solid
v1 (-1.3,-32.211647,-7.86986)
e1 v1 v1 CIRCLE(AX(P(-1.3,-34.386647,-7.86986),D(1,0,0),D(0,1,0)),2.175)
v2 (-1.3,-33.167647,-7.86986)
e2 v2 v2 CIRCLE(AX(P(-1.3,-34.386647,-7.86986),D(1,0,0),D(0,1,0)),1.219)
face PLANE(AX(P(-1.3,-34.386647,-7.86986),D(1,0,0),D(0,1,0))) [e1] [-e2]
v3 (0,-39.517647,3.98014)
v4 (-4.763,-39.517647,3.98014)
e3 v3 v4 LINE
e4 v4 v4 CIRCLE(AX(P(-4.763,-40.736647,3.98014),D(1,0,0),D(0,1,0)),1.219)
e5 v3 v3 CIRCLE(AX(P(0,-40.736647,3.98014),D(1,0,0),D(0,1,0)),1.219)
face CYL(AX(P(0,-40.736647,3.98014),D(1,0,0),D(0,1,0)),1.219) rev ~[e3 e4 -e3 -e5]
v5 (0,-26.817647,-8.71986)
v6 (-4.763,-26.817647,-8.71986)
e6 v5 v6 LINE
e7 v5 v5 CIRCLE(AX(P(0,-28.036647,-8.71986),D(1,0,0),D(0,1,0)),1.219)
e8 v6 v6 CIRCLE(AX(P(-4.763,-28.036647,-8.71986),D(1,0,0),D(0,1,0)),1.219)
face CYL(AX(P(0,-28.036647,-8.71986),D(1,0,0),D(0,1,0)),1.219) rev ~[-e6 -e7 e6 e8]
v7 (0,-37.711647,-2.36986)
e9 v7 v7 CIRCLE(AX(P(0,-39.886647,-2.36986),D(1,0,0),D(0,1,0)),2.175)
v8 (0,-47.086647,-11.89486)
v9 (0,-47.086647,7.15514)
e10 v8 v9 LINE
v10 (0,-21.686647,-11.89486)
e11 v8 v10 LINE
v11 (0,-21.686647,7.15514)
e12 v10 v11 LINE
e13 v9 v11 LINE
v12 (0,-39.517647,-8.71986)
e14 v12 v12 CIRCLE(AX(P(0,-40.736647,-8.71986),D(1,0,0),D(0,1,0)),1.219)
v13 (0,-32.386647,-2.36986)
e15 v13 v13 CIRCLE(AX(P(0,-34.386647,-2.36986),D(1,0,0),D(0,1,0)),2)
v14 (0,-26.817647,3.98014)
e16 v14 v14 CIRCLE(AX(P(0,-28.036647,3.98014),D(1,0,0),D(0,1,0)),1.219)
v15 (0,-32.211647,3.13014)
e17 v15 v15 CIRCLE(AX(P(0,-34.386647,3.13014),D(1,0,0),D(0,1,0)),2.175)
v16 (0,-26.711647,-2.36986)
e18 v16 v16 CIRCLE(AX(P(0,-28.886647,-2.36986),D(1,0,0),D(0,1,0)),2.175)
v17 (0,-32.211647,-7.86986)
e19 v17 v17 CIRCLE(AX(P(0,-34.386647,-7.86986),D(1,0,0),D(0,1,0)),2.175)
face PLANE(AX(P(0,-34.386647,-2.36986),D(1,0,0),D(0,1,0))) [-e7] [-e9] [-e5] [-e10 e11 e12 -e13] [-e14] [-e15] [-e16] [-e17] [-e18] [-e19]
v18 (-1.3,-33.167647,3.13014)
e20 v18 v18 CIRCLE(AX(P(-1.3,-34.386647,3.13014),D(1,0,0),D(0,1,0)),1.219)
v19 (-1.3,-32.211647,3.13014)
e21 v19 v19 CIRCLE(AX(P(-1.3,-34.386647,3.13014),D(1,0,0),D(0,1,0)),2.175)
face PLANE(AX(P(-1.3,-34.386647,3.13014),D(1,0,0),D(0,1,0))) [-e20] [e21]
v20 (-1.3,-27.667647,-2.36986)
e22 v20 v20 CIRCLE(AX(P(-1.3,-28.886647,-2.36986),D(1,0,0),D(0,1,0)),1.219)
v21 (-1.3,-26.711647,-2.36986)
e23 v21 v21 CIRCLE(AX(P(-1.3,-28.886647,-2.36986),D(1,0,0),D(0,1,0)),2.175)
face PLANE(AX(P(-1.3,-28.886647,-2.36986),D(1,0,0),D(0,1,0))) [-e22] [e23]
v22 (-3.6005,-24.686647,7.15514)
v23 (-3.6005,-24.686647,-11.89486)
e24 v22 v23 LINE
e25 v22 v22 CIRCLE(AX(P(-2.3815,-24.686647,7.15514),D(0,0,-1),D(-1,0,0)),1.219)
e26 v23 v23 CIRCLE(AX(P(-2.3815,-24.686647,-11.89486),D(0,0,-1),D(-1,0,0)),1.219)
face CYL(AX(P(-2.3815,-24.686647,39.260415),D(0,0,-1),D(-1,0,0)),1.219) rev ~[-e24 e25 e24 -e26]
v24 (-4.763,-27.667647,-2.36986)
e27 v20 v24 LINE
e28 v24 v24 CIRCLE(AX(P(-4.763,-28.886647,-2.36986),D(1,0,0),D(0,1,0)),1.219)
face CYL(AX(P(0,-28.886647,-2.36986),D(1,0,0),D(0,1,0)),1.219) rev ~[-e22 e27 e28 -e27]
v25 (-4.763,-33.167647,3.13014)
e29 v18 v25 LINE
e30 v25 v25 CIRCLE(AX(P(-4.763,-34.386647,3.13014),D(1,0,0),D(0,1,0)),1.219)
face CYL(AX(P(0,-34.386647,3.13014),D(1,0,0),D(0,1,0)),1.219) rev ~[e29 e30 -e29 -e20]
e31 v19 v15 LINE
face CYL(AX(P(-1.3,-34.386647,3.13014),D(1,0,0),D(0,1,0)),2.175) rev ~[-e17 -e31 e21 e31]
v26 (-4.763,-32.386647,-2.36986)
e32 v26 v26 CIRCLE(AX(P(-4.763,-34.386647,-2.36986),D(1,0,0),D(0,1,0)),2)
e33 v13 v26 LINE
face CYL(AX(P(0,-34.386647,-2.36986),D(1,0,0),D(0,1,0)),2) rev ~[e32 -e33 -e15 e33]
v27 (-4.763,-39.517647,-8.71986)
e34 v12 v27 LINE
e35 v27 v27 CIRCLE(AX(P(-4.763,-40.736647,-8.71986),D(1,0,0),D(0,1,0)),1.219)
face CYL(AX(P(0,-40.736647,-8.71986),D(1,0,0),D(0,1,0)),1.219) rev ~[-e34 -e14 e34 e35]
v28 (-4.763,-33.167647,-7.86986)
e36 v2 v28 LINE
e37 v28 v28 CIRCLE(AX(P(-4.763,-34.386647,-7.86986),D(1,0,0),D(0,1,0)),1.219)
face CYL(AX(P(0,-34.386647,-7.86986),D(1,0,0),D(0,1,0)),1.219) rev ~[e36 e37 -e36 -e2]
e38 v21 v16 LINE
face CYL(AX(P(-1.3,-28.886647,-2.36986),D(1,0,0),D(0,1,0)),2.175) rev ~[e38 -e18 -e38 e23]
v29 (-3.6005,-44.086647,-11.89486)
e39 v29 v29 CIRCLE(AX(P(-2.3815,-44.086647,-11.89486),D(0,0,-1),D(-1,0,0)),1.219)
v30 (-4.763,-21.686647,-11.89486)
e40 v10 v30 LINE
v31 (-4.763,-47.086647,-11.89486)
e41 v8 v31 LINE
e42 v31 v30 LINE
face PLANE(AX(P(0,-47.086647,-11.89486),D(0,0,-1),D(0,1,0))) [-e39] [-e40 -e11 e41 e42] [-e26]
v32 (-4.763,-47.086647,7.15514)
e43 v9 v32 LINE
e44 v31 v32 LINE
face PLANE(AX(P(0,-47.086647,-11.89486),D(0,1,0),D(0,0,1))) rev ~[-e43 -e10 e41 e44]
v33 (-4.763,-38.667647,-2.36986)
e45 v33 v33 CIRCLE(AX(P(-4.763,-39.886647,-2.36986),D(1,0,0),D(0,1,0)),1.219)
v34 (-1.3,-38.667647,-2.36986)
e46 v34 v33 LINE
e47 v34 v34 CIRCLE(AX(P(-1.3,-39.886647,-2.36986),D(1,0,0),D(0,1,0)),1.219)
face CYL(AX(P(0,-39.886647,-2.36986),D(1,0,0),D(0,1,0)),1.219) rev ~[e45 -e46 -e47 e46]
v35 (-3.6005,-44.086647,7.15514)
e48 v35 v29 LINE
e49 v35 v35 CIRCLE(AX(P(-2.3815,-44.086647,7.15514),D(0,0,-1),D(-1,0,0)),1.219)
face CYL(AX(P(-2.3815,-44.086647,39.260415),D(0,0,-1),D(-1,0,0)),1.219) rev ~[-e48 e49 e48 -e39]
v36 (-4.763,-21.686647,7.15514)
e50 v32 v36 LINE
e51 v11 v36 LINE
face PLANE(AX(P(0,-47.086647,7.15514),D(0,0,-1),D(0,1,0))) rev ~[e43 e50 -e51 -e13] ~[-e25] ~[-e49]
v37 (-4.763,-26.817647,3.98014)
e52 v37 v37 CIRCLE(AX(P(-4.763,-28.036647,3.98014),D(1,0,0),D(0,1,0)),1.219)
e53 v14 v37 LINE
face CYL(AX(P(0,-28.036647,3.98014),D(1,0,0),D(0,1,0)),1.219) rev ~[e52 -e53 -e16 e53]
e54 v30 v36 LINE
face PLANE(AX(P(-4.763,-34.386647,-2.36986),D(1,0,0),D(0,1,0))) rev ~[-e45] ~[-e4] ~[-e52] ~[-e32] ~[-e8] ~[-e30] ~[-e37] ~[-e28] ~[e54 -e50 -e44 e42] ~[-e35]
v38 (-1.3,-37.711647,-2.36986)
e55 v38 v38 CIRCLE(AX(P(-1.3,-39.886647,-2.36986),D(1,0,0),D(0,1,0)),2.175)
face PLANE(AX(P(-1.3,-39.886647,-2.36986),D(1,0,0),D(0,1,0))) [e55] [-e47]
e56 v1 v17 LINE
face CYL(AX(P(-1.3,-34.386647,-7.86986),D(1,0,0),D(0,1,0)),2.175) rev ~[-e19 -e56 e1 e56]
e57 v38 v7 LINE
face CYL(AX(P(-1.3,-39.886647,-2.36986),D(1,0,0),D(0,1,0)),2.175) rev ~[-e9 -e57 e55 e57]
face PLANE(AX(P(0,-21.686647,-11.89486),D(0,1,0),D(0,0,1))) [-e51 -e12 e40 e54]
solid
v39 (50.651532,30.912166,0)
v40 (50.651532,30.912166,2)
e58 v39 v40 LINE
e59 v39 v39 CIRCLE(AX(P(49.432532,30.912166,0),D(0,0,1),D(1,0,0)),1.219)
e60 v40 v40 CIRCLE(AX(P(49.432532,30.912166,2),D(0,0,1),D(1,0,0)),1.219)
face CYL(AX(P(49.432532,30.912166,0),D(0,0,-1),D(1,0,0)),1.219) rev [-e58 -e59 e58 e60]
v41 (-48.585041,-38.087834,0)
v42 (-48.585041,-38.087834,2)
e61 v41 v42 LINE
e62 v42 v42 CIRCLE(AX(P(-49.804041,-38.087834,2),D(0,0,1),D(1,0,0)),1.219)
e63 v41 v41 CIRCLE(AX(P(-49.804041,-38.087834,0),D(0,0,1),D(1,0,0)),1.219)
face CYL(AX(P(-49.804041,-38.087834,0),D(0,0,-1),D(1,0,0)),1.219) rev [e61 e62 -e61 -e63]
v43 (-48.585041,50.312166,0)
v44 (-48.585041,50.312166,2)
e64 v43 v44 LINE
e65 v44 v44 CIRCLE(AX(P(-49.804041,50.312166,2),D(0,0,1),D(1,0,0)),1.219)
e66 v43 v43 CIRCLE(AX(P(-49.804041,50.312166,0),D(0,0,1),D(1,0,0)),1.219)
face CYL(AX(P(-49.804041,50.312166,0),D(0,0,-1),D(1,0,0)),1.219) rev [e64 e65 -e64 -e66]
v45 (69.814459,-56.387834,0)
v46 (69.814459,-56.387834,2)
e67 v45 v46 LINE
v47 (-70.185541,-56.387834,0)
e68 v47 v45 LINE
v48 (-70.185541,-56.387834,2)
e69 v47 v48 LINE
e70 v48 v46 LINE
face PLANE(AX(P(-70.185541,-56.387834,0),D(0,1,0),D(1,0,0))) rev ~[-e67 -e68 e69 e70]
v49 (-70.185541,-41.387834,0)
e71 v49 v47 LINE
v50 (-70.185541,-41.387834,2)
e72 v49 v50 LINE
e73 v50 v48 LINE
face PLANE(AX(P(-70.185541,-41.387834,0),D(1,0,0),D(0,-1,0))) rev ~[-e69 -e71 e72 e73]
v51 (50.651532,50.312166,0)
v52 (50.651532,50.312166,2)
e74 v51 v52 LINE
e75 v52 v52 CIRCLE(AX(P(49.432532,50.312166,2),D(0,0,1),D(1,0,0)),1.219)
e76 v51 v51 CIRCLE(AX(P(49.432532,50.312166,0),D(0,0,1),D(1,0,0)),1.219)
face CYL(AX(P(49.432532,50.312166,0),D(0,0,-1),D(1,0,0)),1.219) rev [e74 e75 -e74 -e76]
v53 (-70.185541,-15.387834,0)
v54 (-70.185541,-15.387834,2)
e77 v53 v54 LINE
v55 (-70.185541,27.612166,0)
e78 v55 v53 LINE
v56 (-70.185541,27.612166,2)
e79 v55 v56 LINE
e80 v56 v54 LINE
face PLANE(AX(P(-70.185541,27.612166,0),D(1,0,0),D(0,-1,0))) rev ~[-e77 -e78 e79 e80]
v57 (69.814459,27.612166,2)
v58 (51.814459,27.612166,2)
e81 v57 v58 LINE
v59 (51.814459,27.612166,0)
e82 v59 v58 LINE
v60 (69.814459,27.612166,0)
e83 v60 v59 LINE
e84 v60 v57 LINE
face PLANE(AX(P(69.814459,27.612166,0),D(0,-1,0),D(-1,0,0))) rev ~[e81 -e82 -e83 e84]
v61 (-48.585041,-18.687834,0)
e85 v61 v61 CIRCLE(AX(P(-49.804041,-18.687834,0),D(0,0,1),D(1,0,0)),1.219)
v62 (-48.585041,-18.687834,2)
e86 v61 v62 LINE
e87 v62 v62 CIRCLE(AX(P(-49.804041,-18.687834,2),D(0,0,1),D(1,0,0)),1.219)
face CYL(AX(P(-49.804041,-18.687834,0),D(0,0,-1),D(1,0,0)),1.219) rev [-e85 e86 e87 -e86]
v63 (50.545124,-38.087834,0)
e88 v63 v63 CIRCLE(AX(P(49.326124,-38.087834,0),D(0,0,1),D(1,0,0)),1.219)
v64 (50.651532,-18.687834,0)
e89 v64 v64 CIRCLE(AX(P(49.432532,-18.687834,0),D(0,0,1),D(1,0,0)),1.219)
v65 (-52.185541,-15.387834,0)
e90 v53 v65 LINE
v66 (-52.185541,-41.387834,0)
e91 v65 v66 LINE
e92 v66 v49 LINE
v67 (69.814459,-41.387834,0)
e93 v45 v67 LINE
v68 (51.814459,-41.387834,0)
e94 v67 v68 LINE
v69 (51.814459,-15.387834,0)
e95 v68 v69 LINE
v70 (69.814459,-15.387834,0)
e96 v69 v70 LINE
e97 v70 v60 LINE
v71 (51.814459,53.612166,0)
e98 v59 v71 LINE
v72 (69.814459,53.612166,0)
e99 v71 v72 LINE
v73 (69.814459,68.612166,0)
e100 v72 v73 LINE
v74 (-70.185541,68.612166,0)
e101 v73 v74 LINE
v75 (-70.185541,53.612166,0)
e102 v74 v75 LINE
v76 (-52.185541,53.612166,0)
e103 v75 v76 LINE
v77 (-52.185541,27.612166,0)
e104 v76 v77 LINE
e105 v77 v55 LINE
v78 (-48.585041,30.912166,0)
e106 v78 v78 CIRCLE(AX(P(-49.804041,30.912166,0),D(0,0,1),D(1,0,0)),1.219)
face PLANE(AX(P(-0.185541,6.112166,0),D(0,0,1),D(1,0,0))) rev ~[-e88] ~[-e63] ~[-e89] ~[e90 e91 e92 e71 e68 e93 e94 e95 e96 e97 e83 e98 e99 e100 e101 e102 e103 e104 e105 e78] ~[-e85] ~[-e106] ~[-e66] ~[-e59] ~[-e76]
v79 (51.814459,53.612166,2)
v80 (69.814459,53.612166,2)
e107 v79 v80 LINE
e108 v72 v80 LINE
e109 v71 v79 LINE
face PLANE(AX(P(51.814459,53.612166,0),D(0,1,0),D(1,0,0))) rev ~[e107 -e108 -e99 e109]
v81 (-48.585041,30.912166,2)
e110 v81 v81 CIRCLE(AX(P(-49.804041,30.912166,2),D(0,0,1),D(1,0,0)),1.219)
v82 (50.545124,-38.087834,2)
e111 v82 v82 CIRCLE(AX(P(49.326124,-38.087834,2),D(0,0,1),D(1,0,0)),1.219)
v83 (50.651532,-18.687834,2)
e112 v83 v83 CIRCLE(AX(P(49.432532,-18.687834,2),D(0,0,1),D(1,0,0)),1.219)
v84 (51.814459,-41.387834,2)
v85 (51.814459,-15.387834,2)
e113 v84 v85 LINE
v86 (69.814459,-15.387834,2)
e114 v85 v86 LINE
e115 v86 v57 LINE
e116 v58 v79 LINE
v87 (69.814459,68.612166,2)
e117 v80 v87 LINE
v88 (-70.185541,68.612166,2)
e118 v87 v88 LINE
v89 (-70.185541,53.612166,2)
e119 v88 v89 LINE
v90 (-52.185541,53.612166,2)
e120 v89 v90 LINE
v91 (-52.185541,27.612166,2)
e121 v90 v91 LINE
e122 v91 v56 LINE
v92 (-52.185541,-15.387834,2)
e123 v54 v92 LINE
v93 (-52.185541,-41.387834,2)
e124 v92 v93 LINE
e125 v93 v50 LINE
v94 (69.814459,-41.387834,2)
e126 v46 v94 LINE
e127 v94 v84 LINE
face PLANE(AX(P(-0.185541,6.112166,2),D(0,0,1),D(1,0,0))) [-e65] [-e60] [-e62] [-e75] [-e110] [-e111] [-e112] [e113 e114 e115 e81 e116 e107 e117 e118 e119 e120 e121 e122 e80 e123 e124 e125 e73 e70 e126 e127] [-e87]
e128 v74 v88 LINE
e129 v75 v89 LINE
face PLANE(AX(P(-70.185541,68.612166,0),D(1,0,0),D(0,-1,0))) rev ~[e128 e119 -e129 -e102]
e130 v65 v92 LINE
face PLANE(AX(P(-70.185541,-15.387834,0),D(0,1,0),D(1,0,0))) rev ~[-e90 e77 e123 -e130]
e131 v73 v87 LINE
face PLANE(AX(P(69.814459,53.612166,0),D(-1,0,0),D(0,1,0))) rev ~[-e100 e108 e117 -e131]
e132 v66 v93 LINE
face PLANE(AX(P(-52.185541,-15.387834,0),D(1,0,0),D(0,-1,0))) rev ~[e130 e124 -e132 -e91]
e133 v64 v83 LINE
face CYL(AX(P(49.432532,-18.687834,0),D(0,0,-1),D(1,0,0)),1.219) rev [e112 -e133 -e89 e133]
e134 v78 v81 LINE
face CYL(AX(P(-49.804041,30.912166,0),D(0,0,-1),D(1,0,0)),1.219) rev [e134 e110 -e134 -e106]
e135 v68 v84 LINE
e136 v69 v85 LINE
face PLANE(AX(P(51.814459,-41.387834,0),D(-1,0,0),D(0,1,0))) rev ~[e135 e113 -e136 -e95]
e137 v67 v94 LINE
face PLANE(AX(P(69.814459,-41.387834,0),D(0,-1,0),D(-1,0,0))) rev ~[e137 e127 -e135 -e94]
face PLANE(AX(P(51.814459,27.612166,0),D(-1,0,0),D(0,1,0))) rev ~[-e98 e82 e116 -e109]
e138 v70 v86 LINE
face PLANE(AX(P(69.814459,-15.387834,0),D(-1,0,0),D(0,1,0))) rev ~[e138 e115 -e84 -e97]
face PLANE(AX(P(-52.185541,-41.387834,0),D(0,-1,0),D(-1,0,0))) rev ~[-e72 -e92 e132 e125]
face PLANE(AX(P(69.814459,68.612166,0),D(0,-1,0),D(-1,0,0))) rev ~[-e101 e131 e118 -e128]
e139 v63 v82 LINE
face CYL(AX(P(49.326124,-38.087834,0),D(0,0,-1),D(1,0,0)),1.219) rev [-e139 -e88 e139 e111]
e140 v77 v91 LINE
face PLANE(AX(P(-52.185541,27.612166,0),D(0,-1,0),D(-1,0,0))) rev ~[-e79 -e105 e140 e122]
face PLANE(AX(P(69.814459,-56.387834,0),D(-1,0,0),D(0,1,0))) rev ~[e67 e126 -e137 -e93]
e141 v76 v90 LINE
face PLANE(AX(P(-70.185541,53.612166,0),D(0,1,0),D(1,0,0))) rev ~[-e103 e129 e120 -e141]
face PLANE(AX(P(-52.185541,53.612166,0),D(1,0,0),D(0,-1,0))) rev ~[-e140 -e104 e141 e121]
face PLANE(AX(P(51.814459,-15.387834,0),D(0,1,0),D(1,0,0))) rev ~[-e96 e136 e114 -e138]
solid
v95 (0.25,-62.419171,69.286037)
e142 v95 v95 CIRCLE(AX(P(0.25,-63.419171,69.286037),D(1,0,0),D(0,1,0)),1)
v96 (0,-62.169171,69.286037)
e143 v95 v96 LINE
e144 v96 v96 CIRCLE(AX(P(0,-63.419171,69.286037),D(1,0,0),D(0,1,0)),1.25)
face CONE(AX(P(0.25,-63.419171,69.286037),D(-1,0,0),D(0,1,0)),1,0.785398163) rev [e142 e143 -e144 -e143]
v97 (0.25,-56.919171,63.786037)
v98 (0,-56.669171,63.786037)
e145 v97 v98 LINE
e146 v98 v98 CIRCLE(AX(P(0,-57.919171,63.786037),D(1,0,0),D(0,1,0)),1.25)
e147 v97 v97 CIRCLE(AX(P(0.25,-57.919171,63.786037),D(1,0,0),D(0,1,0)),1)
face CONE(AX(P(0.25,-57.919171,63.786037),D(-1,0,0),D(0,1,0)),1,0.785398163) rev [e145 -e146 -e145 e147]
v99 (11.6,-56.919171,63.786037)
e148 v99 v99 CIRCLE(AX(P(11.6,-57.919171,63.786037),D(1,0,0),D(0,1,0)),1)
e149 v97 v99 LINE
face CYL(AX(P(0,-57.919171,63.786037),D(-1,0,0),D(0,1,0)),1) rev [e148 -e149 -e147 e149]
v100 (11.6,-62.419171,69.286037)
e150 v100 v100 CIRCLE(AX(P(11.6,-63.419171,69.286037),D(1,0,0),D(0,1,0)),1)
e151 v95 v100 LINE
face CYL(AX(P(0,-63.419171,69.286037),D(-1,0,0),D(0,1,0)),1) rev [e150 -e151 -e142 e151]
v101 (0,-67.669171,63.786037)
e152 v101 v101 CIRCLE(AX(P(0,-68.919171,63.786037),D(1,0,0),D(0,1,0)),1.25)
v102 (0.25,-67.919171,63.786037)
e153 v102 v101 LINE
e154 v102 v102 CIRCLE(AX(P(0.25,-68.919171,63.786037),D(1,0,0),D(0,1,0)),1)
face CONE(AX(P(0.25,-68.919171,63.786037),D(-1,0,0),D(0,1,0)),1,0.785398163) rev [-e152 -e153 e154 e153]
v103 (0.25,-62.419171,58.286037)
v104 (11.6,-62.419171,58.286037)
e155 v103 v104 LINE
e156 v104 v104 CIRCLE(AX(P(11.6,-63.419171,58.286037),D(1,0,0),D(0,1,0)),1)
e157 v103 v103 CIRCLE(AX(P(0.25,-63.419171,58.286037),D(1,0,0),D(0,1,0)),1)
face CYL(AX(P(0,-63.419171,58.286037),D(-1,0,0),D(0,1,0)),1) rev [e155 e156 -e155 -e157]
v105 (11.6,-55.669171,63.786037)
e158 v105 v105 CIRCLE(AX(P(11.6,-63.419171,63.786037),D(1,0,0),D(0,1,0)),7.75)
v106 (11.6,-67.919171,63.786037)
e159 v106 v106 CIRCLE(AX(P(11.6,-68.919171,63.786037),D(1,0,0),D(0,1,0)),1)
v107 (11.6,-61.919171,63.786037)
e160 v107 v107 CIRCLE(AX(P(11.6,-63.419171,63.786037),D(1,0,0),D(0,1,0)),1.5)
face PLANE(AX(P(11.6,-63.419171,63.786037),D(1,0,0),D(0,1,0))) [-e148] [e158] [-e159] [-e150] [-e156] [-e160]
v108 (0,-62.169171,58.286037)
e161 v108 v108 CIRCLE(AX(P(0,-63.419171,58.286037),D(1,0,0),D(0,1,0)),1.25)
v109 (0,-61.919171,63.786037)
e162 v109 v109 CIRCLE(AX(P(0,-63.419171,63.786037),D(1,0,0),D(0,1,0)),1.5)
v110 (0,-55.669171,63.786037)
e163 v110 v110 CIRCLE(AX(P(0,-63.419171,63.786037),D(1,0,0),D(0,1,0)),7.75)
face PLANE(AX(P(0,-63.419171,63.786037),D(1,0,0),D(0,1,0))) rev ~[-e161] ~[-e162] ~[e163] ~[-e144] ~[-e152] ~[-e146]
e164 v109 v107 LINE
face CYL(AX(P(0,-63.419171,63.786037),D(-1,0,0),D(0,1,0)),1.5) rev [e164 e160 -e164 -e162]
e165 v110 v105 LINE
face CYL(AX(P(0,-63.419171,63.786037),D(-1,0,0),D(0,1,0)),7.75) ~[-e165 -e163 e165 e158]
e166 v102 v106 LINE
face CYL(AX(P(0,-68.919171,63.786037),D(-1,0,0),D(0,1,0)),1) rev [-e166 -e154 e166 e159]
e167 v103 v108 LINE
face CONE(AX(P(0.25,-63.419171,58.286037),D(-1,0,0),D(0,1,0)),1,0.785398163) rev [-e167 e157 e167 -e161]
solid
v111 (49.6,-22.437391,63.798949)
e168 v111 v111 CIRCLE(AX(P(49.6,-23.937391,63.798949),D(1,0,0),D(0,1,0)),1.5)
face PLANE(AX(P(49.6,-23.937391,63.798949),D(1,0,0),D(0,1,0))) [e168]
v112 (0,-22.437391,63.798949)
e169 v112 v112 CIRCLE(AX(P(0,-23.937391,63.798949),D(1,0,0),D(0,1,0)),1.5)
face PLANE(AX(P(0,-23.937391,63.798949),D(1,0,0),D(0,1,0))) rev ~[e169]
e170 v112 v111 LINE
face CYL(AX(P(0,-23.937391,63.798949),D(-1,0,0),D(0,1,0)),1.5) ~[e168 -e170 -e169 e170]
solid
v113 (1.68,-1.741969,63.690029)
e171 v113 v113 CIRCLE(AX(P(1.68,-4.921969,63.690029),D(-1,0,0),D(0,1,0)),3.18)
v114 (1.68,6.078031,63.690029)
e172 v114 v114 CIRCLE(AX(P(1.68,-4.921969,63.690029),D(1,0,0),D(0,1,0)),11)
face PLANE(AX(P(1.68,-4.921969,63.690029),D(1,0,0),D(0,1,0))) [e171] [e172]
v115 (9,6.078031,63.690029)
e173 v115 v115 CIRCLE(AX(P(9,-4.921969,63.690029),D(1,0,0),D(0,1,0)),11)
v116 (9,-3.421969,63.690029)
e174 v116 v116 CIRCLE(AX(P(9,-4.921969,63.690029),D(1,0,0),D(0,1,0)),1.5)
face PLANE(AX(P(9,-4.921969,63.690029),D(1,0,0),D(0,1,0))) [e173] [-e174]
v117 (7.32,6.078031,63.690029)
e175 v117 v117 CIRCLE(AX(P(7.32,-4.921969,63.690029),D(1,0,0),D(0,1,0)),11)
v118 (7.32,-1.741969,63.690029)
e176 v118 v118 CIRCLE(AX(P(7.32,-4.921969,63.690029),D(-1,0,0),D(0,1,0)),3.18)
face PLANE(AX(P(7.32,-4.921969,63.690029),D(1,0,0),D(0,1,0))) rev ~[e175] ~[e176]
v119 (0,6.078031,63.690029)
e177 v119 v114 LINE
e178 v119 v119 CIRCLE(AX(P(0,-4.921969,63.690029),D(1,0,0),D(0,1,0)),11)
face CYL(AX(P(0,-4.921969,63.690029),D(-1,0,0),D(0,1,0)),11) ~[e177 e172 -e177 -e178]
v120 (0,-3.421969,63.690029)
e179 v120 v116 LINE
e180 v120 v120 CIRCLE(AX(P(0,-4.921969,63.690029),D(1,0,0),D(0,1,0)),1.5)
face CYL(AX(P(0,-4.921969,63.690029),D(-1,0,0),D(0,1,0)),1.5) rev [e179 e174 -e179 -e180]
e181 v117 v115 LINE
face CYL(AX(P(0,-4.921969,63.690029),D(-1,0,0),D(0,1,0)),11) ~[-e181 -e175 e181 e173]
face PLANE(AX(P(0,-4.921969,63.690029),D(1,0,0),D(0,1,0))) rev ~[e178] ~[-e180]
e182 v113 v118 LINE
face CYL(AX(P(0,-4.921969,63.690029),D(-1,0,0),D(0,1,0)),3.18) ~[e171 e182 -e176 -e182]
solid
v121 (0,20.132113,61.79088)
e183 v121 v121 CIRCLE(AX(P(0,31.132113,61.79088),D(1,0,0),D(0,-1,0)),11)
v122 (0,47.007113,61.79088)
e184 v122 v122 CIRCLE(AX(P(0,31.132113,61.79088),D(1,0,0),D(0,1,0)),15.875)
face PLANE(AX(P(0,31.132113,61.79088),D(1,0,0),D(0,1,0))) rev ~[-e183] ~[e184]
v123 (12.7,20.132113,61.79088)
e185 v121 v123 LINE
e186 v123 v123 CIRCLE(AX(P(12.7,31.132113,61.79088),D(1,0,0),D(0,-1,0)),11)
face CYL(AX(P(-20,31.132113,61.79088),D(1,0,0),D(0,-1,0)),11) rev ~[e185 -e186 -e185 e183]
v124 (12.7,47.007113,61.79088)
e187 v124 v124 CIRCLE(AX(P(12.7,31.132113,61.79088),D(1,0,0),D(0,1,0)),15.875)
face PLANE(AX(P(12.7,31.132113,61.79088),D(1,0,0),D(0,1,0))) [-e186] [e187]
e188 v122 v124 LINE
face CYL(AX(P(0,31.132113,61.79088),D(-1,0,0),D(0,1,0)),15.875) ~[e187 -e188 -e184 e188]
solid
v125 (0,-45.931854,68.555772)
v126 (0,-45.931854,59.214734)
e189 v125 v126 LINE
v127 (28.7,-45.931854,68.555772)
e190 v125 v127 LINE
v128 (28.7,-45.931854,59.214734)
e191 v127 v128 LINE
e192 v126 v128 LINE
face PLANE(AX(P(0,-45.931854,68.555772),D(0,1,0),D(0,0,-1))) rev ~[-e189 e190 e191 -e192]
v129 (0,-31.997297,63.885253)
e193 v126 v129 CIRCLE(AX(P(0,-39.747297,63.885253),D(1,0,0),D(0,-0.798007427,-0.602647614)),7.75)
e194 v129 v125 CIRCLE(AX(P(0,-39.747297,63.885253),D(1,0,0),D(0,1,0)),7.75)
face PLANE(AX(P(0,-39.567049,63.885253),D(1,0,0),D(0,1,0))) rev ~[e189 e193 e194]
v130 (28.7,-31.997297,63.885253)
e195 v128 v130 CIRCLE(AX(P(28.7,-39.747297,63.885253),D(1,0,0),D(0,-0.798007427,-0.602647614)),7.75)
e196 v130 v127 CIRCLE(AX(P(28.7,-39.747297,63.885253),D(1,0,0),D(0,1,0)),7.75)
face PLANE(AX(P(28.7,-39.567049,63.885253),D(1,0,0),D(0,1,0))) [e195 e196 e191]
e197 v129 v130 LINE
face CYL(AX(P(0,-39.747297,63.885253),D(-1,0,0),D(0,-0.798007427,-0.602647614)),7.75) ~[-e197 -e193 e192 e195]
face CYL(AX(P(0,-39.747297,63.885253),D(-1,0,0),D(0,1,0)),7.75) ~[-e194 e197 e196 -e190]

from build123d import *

# Parameters (mm, degrees)
F0_R           = 1.219
F1_DEPTH       = 2
F2_W           = 25.4
F2_H           = 19.05
F2_R           = 2.175
F2_R_2         = 1.219
F2_R_3         = 2
F3_DEPTH       = 4.763
F4_D           = 2.438
F4_CBORE_D     = 4.35
F4_CBORE_DEPTH = 1.3
F6_D           = 2.438
F7_R           = 7.75
F7_R_2         = 1
F7_R_3         = 1.5
F8_DEPTH       = 11.6
F9_SIZE        = 0.25
F11_DEPTH      = 28.7
F12_R          = 1.5
F13_DEPTH      = 49.6
F14_R          = 11
F14_R_2        = 1.5
F15_DEPTH      = 9
F16_T          = -1.68
F17_R          = 15.875
F17_R_2        = 11
F17_R_3        = 3.18
F18_DEPTH      = 12.7
F19_D          = 22
F19_DEPTH      = 20
F19_TIP        = 6.6094668093


with BuildPart() as f1:
    # F0 (on Top) → F1 (new body)
    with BuildSketch(Plane.XY):
        Polygon((69.8144591255, 53.6121664921), (69.8144591255, 68.6121664921), (-70.1855408745, 68.6121664921), (-70.1855408745, 53.6121664921), (-52.1855408745, 53.6121664921), (-52.1855408745, 27.6121664921), (-70.1855408745, 27.6121664921), (-70.1855408745, -15.3878335079), (-52.1855408745, -15.3878335079), (-52.1855408745, -41.3878335079), (-70.1855408745, -41.3878335079), (-70.1855408745, -56.3878335079), (69.8144591255, -56.3878335079), (69.8144591255, -41.3878335079), (51.8144591255, -41.3878335079), (51.8144591255, -15.3878335079), (69.8144591255, -15.3878335079), (69.8144591255, 27.6121664921), (51.8144591255, 27.6121664921), (51.8144591255, 53.6121664921), align=None)
        with Locations((-49.8040408745, -38.0878335079)):
            Circle(F0_R, mode=Mode.SUBTRACT)
        with Locations((-49.8040408745, -18.6878335079)):
            Circle(F0_R, mode=Mode.SUBTRACT)
        with Locations((49.3261239358, -38.0878335079)):
            Circle(F0_R, mode=Mode.SUBTRACT)
        with Locations((49.4325323884, -18.6878335079)):
            Circle(F0_R, mode=Mode.SUBTRACT)
        with Locations((-49.8040408745, 30.9121664921)):
            Circle(F0_R, mode=Mode.SUBTRACT)
        with Locations((-49.8040408745, 50.3121664921)):
            Circle(F0_R, mode=Mode.SUBTRACT)
        with Locations((49.4325323884, 30.9121664921)):
            Circle(F0_R, mode=Mode.SUBTRACT)
        with Locations((49.4325323884, 50.3121664921)):
            Circle(F0_R, mode=Mode.SUBTRACT)
    extrude(amount=F1_DEPTH)


with BuildPart() as f3:
    # F2 (on Right) → F3 (new body)
    with BuildSketch(Plane.YZ):
        with Locations((-34.3866466569, -2.3698601872)):
            Rectangle(F2_W, F2_H)
        with Locations((-40.7366466569, -8.7198601872)):
            Circle(F2_R, mode=Mode.SUBTRACT)
        with Locations((-34.3866466569, -7.8698601872)):
            Circle(F2_R_2, mode=Mode.SUBTRACT)
        with Locations((-28.0366466569, -8.7198601872)):
            Circle(F2_R, mode=Mode.SUBTRACT)
        with Locations((-39.8866466569, -2.3698601872)):
            Circle(F2_R_2, mode=Mode.SUBTRACT)
        with Locations((-40.7366466569, 3.9801398128)):
            Circle(F2_R, mode=Mode.SUBTRACT)
        with Locations((-34.3866466569, -2.3698601872)):
            Circle(F2_R_3, mode=Mode.SUBTRACT)
        with Locations((-28.8866466569, -2.3698601872)):
            Circle(F2_R_2, mode=Mode.SUBTRACT)
        with Locations((-34.3866466569, 3.1301398128)):
            Circle(F2_R_2, mode=Mode.SUBTRACT)
        with Locations((-28.0366466569, 3.9801398128)):
            Circle(F2_R, mode=Mode.SUBTRACT)
        with Locations((-40.7366466569, 3.9801398128)):
            Circle(F2_R)
        with Locations((-40.7366466569, 3.9801398128)):
            Circle(F2_R_2, mode=Mode.SUBTRACT)
        with Locations((-28.0366466569, 3.9801398128)):
            Circle(F2_R)
        with Locations((-28.0366466569, 3.9801398128)):
            Circle(F2_R_2, mode=Mode.SUBTRACT)
        with Locations((-40.7366466569, -8.7198601872)):
            Circle(F2_R)
        with Locations((-40.7366466569, -8.7198601872)):
            Circle(F2_R_2, mode=Mode.SUBTRACT)
        with Locations((-28.0366466569, -8.7198601872)):
            Circle(F2_R)
        with Locations((-28.0366466569, -8.7198601872)):
            Circle(F2_R_2, mode=Mode.SUBTRACT)
    extrude(amount=-F3_DEPTH)

    # F4 (through all)
    with Locations(Plane.YZ):
        with Locations((-39.8866466569, -2.3698601872), (-34.3866466569, 3.1301398128), (-28.8866466569, -2.3698601872), (-34.3866466569, -7.8698601872)):
            CounterBoreHole(F4_D / 2, F4_CBORE_D / 2, F4_CBORE_DEPTH)

    # F6 (through all)
    with Locations(Plane.XY.offset(7.1551398128)):
        with Locations((-2.3815, -44.0866466569), (-2.3815, -24.6866466569)):
            Hole(F6_D / 2)


with BuildPart() as f8:
    # F7 (on Right) → F8 (new body)
    with BuildSketch(Plane.YZ):
        with Locations((-63.4191706777, 63.7860372663)):
            Circle(F7_R)
        with Locations((-63.4191706777, 58.2860372663)):
            Circle(F7_R_2, mode=Mode.SUBTRACT)
        with Locations((-68.9191706777, 63.7860372663)):
            Circle(F7_R_2, mode=Mode.SUBTRACT)
        with Locations((-63.4191706777, 63.7860372663)):
            Circle(F7_R_3, mode=Mode.SUBTRACT)
        with Locations((-57.9191706777, 63.7860372663)):
            Circle(F7_R_2, mode=Mode.SUBTRACT)
        with Locations((-63.4191706777, 69.2860372663)):
            Circle(F7_R_2, mode=Mode.SUBTRACT)
    extrude(amount=F8_DEPTH)

    # F9
    f9_edges = [f8.edges().sort_by_distance(p)[0] for p in [
        (0, -64.419171, 69.286037),
        (0, -58.919171, 63.786037),
        (0, -69.919171, 63.786037),
        (0, -64.419171, 58.286037),
    ]]
    chamfer(f9_edges, length=F9_SIZE)


with BuildPart() as f11:
    # F10 (on Right) → F11 (new body)
    with BuildSketch(Plane.YZ):
        with BuildLine():
            ThreePointArc((-45.931854181, 59.2147338192), (-37.2843533707, 56.5370278333), (-31.9972966215, 63.8852528259))
            ThreePointArc((-31.9972966215, 63.8852528259), (-37.2843533707, 71.2334778186), (-45.931854181, 68.5557718327))
            Line((-45.931854181, 68.5557718327), (-45.931854181, 59.2147338192))
        make_face()
    extrude(amount=F11_DEPTH)


with BuildPart() as f13:
    # F12 (on Right) → F13 (new body)
    with BuildSketch(Plane.YZ):
        with Locations((-23.9373911172, 63.7989491224)):
            Circle(F12_R)
    extrude(amount=F13_DEPTH)


with BuildPart() as f15:
    # F14 (on Right) → F15 (new body)
    with BuildSketch(Plane.YZ):
        with Locations((-4.921969492, 63.6900290847)):
            Circle(F14_R)
        with Locations((-4.921969492, 63.6900290847)):
            Circle(F14_R_2, mode=Mode.SUBTRACT)
    extrude(amount=F15_DEPTH)

    # F16
    f16_openings = [f15.faces().sort_by_distance(p)[0] for p in [
        (4.5, -15.921969, 63.690029),
    ]]
    offset(amount=F16_T, openings=f16_openings)


with BuildPart() as f18:
    # F17 (on Right) → F18 (new body)
    with BuildSketch(Plane.YZ):
        with Locations((31.1321131885, 61.7908798158)):
            Circle(F17_R)
        with Locations((31.1321131885, 61.7908798158)):
            Circle(F17_R_2, mode=Mode.SUBTRACT)
        with Locations((31.1321131885, 61.7908798158)):
            Circle(F17_R_2)
        with Locations((31.1321131885, 61.7908798158)):
            Circle(F17_R_3, mode=Mode.SUBTRACT)
    extrude(amount=F18_DEPTH)

    # F19
    with Locations(Plane(origin=(0, 0, 0), x_dir=(0, 1, 0), z_dir=(-1, 0, 0))):
        with Locations((31.1321131885, -61.7908798158)):
            Hole(F19_D / 2, depth=F19_DEPTH)
            with Locations((0, 0, -(F19_DEPTH + F19_TIP / 2))):  # 118° drill point
                Cone(0, F19_D / 2, F19_TIP, mode=Mode.SUBTRACT)


solid = Compound([f1.part, f3.part, f8.part, f11.part, f13.part, f15.part, f18.part])
